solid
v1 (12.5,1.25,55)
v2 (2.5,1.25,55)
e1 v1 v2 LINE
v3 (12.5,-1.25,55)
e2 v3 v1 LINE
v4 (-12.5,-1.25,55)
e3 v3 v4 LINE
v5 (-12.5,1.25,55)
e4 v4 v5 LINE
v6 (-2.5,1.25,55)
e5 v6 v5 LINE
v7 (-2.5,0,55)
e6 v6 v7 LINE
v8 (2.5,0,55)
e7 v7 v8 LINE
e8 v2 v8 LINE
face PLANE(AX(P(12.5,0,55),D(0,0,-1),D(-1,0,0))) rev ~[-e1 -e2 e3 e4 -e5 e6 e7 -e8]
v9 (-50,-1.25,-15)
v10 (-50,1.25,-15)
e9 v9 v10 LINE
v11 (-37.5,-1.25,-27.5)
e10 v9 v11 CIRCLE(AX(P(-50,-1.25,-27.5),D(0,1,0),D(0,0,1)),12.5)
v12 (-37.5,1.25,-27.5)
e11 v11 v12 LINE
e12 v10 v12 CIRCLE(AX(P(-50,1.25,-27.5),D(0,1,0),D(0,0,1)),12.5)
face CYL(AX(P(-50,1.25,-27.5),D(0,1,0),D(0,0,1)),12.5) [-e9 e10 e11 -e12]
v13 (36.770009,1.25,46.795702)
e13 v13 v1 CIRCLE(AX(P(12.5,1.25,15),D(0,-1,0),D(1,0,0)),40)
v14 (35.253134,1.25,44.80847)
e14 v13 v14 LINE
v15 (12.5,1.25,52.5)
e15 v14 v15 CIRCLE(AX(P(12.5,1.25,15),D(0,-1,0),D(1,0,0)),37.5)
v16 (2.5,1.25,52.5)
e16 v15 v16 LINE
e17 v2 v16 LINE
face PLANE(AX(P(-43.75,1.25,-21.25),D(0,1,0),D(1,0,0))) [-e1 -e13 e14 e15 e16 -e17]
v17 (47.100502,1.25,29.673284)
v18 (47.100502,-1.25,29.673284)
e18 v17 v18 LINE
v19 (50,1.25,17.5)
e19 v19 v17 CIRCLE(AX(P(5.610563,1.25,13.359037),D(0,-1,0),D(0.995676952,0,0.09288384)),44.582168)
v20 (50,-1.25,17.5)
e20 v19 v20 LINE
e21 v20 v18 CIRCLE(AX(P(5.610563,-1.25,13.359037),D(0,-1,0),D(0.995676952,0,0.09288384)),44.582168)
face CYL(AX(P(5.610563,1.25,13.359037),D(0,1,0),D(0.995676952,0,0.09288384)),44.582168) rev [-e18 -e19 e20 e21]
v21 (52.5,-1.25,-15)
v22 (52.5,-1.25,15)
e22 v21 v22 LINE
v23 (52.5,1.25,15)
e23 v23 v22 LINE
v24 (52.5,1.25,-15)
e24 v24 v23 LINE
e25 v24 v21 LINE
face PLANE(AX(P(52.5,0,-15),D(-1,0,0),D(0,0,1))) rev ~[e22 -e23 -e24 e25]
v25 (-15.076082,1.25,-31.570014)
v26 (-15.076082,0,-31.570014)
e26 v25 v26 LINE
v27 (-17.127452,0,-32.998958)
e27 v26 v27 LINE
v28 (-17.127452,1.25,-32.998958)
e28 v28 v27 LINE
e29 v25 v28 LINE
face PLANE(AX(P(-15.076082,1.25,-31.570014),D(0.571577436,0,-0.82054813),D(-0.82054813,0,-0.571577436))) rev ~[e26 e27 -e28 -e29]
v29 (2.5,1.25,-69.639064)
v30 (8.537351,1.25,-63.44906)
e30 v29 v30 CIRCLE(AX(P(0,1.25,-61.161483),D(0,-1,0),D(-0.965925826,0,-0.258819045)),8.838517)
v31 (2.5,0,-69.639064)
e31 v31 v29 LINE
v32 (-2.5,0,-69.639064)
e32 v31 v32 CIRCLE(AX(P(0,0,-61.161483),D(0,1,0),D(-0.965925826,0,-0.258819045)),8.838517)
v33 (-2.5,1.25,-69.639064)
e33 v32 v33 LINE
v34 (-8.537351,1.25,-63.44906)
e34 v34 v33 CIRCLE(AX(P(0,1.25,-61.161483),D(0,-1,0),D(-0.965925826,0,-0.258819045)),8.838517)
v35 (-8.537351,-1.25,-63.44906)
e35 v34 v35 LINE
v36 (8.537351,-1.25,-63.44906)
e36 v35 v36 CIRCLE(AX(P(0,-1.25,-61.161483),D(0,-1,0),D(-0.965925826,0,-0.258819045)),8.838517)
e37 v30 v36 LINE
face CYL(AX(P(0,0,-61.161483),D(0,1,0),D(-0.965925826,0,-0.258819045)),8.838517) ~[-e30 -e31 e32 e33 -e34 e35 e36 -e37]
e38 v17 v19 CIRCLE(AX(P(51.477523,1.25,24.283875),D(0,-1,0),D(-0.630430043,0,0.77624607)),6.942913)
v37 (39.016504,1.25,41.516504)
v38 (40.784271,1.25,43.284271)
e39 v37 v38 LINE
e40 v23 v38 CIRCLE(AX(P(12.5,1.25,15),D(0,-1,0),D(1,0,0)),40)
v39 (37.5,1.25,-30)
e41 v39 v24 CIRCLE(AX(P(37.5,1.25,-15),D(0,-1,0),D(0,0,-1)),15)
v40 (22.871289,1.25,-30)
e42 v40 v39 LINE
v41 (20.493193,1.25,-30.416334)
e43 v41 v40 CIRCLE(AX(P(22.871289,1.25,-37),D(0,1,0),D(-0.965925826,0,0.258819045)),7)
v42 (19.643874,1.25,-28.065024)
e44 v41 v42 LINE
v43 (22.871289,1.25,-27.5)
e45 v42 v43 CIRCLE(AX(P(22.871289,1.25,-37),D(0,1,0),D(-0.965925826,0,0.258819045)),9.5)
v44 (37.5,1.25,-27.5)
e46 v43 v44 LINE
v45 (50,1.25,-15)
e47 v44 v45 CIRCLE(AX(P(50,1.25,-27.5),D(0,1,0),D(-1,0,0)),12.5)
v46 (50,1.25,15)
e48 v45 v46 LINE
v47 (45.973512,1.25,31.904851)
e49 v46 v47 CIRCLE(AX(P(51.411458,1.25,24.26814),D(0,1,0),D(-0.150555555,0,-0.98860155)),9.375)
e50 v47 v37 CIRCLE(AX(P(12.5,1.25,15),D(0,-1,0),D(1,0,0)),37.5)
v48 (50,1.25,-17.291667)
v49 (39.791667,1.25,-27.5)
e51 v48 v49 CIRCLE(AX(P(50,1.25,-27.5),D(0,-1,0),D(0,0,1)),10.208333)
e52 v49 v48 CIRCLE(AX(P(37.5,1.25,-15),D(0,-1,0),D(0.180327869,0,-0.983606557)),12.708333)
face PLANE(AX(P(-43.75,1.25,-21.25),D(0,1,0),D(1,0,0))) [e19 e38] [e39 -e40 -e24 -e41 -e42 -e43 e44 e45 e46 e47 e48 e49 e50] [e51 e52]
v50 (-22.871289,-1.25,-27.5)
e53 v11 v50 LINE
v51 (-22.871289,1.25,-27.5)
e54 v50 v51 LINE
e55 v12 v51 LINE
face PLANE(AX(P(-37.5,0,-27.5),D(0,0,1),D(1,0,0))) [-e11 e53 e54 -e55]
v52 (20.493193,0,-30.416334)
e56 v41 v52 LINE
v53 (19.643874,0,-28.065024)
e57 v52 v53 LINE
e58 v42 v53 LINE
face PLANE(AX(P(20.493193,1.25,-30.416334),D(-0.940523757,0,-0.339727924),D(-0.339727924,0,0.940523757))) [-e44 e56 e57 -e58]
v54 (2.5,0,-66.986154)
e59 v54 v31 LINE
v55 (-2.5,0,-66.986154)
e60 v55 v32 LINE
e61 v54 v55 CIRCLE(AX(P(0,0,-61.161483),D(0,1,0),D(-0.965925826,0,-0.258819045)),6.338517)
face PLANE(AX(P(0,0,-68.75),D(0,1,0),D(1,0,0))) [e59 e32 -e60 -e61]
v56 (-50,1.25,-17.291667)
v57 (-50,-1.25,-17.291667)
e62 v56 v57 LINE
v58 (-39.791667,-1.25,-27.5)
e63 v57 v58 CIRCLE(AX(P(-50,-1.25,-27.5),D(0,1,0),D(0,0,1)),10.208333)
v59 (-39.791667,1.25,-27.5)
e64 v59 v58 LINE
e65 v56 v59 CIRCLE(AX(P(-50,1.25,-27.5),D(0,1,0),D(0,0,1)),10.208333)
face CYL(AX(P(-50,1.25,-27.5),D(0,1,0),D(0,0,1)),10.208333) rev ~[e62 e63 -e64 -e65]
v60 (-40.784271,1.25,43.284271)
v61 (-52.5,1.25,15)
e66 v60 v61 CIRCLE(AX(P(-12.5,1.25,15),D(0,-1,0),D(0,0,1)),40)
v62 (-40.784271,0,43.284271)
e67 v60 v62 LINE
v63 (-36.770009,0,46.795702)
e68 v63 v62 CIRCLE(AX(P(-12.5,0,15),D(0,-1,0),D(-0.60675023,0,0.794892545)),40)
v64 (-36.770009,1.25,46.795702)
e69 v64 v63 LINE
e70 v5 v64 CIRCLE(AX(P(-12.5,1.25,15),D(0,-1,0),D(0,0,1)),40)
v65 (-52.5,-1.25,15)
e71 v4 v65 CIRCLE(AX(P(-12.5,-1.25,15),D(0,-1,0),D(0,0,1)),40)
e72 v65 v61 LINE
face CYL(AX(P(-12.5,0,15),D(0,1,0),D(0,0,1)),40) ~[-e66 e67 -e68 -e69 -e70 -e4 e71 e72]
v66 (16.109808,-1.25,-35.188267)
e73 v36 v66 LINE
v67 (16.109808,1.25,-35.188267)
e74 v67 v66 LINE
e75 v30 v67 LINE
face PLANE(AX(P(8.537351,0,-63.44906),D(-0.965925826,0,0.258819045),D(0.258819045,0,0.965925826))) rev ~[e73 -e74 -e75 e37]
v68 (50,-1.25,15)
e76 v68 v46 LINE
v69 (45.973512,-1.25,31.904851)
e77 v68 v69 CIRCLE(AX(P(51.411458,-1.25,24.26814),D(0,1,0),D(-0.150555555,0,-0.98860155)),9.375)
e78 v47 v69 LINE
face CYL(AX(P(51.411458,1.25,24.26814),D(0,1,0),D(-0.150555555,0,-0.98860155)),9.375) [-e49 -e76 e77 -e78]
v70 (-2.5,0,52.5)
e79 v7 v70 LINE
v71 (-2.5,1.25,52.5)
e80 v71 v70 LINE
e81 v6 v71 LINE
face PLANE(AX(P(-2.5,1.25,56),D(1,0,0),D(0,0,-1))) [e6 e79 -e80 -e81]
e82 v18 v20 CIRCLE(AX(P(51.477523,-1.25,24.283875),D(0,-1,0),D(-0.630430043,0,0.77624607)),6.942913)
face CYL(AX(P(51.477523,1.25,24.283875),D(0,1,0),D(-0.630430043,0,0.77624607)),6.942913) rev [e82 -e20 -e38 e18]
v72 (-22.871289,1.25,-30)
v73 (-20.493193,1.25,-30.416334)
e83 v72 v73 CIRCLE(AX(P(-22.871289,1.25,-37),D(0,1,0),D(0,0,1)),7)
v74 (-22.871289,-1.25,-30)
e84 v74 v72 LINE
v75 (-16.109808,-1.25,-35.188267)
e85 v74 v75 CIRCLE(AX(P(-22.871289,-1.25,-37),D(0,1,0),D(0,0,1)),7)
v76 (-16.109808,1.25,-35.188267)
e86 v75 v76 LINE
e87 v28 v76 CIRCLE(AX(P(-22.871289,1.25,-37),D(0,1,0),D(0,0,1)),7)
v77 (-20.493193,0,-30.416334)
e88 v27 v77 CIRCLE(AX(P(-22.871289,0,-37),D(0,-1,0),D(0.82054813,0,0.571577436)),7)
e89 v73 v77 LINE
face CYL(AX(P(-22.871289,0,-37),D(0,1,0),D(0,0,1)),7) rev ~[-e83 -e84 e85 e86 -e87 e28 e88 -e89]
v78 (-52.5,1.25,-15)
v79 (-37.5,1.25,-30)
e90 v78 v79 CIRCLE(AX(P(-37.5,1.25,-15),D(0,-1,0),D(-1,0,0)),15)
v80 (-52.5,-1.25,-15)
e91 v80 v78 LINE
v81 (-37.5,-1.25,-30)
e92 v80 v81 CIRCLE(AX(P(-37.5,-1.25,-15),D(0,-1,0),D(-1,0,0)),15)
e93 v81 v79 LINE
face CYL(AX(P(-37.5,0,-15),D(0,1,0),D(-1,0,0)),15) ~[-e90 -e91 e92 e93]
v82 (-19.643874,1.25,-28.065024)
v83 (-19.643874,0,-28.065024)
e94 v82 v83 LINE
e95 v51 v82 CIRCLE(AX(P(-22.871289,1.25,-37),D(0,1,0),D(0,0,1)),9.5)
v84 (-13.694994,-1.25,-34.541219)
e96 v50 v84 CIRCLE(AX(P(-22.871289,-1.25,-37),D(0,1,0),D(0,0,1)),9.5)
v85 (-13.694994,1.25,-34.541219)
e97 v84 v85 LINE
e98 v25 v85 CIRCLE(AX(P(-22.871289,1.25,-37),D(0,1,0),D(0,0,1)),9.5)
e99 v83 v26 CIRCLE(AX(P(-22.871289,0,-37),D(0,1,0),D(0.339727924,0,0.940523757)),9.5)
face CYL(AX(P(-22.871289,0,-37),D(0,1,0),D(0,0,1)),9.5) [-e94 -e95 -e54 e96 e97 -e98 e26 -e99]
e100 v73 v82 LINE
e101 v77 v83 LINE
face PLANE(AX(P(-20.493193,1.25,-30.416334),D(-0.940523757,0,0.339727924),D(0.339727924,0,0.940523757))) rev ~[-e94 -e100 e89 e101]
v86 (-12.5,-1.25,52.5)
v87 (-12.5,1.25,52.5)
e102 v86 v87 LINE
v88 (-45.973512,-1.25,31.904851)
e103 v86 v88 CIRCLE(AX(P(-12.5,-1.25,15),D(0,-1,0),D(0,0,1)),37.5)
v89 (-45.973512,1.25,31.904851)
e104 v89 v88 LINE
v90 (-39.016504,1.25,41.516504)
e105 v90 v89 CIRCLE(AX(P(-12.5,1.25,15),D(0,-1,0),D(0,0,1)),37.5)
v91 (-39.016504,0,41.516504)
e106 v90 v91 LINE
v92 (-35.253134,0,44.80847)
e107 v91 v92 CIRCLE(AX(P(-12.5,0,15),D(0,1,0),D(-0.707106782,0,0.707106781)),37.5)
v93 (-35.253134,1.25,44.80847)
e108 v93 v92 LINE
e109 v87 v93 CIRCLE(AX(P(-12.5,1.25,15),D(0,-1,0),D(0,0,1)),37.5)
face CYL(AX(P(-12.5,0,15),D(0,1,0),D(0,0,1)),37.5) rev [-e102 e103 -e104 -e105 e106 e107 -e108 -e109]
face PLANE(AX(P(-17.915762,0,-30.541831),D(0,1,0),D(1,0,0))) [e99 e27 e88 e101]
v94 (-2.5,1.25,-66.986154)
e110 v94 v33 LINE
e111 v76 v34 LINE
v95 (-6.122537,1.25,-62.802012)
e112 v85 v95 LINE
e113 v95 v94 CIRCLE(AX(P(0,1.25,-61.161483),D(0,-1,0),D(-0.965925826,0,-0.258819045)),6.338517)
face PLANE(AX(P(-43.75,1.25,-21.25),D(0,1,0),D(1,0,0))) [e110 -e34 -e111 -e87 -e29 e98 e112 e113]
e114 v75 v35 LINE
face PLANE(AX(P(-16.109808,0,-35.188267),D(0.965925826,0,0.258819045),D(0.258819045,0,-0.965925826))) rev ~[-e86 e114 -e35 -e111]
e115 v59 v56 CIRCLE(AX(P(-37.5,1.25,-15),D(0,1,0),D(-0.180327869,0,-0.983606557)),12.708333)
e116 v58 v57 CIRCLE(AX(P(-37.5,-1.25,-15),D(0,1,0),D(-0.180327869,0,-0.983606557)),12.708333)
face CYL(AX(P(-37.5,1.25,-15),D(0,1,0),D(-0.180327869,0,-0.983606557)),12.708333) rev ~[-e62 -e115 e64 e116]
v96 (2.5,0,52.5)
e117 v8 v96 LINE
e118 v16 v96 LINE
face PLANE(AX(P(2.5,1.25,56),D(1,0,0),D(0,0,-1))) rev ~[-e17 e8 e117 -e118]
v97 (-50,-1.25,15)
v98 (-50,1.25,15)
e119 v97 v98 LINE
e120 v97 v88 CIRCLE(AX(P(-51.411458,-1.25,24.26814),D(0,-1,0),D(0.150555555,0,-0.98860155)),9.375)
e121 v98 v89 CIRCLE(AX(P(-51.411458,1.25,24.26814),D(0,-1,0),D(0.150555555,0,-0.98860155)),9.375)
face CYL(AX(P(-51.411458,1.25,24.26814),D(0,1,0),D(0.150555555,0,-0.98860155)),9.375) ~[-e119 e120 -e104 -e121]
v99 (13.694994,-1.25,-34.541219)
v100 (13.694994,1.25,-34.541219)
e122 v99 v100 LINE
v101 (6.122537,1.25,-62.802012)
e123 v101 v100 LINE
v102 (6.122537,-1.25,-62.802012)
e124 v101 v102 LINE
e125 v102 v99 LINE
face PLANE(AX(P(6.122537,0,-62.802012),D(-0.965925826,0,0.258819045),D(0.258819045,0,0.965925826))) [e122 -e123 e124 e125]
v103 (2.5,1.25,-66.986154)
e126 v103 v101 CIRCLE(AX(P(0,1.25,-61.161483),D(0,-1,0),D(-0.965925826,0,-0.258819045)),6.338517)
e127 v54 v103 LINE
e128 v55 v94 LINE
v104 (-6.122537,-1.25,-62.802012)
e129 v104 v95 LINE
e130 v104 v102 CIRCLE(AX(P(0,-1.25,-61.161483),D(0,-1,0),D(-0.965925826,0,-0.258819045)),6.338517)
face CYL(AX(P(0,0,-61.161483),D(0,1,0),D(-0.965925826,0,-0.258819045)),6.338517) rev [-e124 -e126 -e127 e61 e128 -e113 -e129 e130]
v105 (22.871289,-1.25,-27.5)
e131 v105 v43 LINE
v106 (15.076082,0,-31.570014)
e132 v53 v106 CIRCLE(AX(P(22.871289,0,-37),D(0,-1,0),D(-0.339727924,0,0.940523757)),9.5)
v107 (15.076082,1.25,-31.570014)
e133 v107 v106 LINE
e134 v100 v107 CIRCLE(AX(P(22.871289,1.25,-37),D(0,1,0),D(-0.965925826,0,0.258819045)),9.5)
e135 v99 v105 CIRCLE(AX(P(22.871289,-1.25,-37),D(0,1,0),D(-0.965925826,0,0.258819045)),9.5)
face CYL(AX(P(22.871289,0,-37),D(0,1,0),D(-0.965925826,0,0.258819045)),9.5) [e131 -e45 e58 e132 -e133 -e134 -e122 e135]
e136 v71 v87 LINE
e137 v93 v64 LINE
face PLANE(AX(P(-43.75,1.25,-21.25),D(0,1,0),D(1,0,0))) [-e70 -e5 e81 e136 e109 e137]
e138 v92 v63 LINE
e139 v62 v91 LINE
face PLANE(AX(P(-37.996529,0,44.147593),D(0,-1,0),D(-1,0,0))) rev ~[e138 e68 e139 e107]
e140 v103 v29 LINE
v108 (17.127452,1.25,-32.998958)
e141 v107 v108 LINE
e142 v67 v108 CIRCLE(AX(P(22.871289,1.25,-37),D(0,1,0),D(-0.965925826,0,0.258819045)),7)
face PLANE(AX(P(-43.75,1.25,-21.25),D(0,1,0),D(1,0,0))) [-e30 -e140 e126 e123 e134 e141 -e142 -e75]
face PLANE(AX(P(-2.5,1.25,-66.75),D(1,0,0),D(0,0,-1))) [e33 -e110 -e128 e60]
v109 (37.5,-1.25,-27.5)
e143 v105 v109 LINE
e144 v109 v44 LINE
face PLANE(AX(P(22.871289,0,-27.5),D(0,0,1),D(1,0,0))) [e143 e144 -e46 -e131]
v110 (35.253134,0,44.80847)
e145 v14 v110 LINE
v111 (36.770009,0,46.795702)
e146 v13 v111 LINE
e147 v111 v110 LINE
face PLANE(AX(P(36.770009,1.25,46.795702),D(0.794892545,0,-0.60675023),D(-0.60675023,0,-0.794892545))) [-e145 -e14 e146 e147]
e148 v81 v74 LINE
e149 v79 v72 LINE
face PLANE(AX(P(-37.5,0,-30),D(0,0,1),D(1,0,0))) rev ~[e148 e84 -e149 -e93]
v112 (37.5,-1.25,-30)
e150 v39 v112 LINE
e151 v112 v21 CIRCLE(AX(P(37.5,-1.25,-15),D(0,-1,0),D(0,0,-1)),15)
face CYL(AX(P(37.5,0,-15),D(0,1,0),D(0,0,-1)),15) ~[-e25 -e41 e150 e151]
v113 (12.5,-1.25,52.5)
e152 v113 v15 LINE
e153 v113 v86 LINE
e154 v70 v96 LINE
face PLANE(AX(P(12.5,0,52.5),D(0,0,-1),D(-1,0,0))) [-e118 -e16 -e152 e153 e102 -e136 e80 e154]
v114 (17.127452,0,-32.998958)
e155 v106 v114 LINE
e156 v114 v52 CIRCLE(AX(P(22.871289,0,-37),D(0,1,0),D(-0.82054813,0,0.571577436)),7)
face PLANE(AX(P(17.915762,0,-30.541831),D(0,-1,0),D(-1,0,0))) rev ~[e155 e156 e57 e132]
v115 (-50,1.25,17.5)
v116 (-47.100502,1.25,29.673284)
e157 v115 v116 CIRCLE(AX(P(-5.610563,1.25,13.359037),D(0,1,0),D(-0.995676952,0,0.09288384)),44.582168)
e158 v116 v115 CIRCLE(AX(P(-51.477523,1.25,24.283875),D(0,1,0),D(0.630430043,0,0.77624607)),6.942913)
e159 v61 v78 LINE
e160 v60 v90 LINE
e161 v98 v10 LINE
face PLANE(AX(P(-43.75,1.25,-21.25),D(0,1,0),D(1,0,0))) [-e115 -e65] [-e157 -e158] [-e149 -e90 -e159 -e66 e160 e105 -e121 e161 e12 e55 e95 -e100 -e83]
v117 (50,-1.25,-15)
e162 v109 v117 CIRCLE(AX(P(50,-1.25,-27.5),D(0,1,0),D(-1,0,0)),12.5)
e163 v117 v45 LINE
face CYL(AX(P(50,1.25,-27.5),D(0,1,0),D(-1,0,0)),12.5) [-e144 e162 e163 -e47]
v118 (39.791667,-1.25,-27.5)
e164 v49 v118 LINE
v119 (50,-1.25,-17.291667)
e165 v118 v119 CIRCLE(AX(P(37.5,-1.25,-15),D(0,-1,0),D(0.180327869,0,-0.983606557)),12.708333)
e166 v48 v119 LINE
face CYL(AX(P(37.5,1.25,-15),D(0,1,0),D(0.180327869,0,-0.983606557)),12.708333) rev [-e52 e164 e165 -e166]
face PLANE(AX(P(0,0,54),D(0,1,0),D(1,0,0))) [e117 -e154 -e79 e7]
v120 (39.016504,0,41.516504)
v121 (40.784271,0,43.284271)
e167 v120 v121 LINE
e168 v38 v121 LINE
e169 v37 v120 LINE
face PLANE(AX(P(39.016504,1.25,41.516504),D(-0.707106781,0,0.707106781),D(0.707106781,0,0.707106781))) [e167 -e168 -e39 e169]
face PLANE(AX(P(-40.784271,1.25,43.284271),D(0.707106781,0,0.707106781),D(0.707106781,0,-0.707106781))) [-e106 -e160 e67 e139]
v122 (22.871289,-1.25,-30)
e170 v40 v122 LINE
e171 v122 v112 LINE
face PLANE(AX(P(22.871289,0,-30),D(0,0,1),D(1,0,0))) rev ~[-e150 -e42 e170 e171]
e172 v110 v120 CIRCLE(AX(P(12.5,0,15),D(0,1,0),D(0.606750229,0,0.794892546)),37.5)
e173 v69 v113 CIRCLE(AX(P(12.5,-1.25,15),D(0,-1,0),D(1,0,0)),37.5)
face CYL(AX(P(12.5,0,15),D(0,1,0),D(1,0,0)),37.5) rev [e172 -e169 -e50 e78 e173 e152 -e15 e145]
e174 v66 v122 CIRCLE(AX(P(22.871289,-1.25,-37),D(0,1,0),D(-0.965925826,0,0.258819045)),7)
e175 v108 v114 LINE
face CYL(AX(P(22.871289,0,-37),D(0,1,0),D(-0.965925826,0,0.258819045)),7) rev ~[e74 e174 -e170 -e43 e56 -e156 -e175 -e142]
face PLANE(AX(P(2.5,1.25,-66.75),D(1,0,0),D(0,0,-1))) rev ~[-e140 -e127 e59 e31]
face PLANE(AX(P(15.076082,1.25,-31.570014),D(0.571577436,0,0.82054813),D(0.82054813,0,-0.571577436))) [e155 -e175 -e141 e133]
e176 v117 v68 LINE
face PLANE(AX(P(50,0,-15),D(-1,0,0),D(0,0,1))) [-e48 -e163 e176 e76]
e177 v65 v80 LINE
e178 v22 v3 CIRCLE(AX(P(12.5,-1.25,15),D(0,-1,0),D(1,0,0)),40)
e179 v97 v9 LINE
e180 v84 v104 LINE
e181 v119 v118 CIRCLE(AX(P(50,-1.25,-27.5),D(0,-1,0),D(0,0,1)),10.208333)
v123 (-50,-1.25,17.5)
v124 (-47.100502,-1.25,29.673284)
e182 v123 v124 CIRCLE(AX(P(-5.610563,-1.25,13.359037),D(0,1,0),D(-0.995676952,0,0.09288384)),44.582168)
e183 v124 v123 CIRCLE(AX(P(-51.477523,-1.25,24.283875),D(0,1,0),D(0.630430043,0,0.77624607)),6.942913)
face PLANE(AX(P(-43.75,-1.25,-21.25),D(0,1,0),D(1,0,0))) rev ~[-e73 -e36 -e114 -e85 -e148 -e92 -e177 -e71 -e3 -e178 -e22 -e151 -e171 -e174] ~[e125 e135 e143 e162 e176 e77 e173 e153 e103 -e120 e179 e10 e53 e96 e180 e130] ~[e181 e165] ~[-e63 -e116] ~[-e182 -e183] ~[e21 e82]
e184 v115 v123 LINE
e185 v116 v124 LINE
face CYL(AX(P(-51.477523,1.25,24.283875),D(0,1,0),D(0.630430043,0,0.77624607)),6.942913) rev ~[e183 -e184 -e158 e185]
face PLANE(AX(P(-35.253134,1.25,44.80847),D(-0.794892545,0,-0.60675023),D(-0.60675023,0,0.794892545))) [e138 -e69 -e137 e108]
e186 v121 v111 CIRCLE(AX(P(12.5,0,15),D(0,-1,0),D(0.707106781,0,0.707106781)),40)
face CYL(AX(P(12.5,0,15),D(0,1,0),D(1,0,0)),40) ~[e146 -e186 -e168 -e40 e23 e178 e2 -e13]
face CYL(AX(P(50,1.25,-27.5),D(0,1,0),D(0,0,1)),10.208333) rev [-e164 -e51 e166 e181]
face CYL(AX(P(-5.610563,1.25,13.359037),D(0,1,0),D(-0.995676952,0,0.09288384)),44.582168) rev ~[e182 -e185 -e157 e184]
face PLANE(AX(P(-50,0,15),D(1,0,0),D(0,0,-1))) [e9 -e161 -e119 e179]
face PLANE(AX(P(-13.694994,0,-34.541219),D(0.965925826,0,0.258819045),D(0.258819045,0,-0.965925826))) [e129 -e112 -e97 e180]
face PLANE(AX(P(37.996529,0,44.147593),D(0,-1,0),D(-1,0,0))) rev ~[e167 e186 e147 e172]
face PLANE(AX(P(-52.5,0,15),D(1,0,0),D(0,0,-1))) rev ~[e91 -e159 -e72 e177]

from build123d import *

# Parameters (mm, degrees)
BOSS_EXTRUDE1_DEPTH = 1.25
BOSS_EXTRUDE5_DEPTH = 2.5
SKETCH6_W           = 5
SKETCH6_H           = 4
CUT_EXTRUDE1_DEPTH  = 1.25
CUT_EXTRUDE2_DEPTH  = 2.5


with BuildPart() as part:
    # Sketch2 → Boss-Extrude1 (new body, symmetric)
    with BuildSketch(Plane(origin=(0, 0, 0), x_dir=(1, 0, 0), z_dir=(0, 1, 0))):
        with BuildLine():
            Line((-16.109808132, 35.188266684), (-8.537351427, 63.449059844))
            ThreePointArc((-8.537351427, 63.449059844), (0, 70), (8.537351427, 63.449059844))
            Line((8.537351427, 63.449059844), (16.109808132, 35.188266684))
            ThreePointArc((16.109808132, 35.188266684), (18.609958913, 31.446526618), (22.871288916, 30))
            Line((22.871288916, 30), (37.5, 30))
            ThreePointArc((37.5, 30), (48.106601718, 25.606601718), (52.5, 15))
            Line((52.5, 15), (52.5, -15))
            ThreePointArc((52.5, -15), (40.784271247, -43.284271247), (12.5, -55))
            Line((12.5, -55), (-12.5, -55))
            ThreePointArc((-12.5, -55), (-40.784271247, -43.284271247), (-52.5, -15))
            Line((-52.5, -15), (-52.5, 15))
            ThreePointArc((-52.5, 15), (-48.106601718, 25.606601718), (-37.5, 30))
            Line((-37.5, 30), (-22.871288916, 30))
            ThreePointArc((-22.871288916, 30), (-18.609958913, 31.446526618), (-16.109808132, 35.188266684))
        make_face()
        with BuildLine():
            Line((6.122536861, 62.802012231), (13.694993566, 34.541219072))
            ThreePointArc((13.694993566, 34.541219072), (17.08805534, 29.463143267), (22.871288916, 27.5))
            Line((22.871288916, 27.5), (37.5, 27.5))
            ThreePointArc((37.5, 27.5), (46.338834765, 23.838834765), (50, 15))
            Line((50, 15), (50, -15))
            ThreePointArc((50, -15), (39.016504294, -41.516504294), (12.5, -52.5))
            Line((12.5, -52.5), (-12.5, -52.5))
            ThreePointArc((-12.5, -52.5), (-39.016504294, -41.516504294), (-50, -15))
            Line((-50, -15), (-50, 15))
            ThreePointArc((-50, 15), (-46.338834765, 23.838834765), (-37.5, 27.5))
            Line((-37.5, 27.5), (-22.871288916, 27.5))
            ThreePointArc((-22.871288916, 27.5), (-17.08805534, 29.463143267), (-13.694993566, 34.541219072))
            Line((-13.694993566, 34.541219072), (-6.122536861, 62.802012231))
            ThreePointArc((-6.122536861, 62.802012231), (0, 67.5), (6.122536861, 62.802012231))
        make_face(mode=Mode.SUBTRACT)
    extrude(amount=BOSS_EXTRUDE1_DEPTH, both=True)

    # Sketch5 → Boss-Extrude5 (add)
    with BuildSketch(Plane(origin=(0, 1.25, 0), x_dir=(1, 0, 0), z_dir=(0, 1, 0))):
        with BuildLine():
            ThreePointArc((-50, 15), (-41.161165235, 18.661165235), (-37.5, 27.5))
            ThreePointArc((-37.5, 27.5), (-46.338834765, 23.838834765), (-50, 15))
        make_face()
        with BuildLine():
            ThreePointArc((37.5, 27.5), (41.161165235, 18.661165235), (50, 15))
            ThreePointArc((50, 15), (46.338834765, 23.838834765), (37.5, 27.5))
        make_face()
        with BuildLine():
            ThreePointArc((-50, -15), (-42.291585286, -22.095919329), (-45.973512014, -31.904851181))
            ThreePointArc((-45.973512014, -31.904851181), (-48.979492188, -23.688880811), (-50, -15))
        make_face()
        with BuildLine():
            ThreePointArc((50, -15), (42.291585286, -22.095919329), (45.973512014, -31.904851181))
            ThreePointArc((45.973512014, -31.904851181), (48.979492187, -23.688880811), (50, -15))
        make_face()
    extrude(amount=-BOSS_EXTRUDE5_DEPTH)

    # Sketch6 → Cut-Extrude1 (cut)
    with BuildSketch(Plane(origin=(0, 1.25, 0), x_dir=(1, 0, 0), z_dir=(0, 1, 0))):
        with Locations((0, 68.75)):
            Rectangle(SKETCH6_W, SKETCH6_H)
        with BuildLine():
            Line((-20.493193447, 30.416333701), (-19.643873637, 28.065024308))
            ThreePointArc((-19.643873637, 28.065024308), (-17.08805534, 29.463143267), (-15.076081678, 31.570014354))
            Line((-15.076081678, 31.570014354), (-17.127452004, 32.998957945))
            ThreePointArc((-17.127452004, 32.998957945), (-18.609958913, 31.446526618), (-20.493193447, 30.416333701))
        make_face()
        with BuildLine():
            Line((20.493193447, 30.416333701), (19.643873637, 28.065024308))
            ThreePointArc((19.643873637, 28.065024308), (17.08805534, 29.463143267), (15.076081678, 31.570014354))
            Line((15.076081678, 31.570014354), (17.127452004, 32.998957945))
            ThreePointArc((17.127452004, 32.998957945), (18.609958913, 31.446526618), (20.493193447, 30.416333701))
        make_face()
        with BuildLine():
            Line((-40.784271247, -43.284271247), (-39.016504294, -41.516504294))
            ThreePointArc((-39.016504294, -41.516504294), (-37.189746158, -43.225280064), (-35.253133619, -44.808470449))
            Line((-35.253133619, -44.808470449), (-36.770009194, -46.795701812))
            ThreePointArc((-36.770009194, -46.795701812), (-38.835729235, -45.106965401), (-40.784271247, -43.284271247))
        make_face()
        with BuildLine():
            Line((36.770009194, -46.795701812), (35.253133619, -44.808470449))
            ThreePointArc((35.253133619, -44.808470449), (37.189746158, -43.225280064), (39.016504294, -41.516504294))
            Line((39.016504294, -41.516504294), (40.784271247, -43.284271247))
            ThreePointArc((40.784271247, -43.284271247), (38.835729235, -45.106965401), (36.770009194, -46.795701812))
        make_face()
        with Locations((0, -54)):
            Rectangle(SKETCH6_W, SKETCH6_H)
    extrude(amount=-CUT_EXTRUDE1_DEPTH, mode=Mode.SUBTRACT)

    # Sketch7 → Cut-Extrude2 (cut)
    with BuildSketch(Plane(origin=(0, 1.25, 0), x_dir=(1, 0, 0), z_dir=(0, 1, 0))):
        with BuildLine():
            ThreePointArc((-50, 17.291666667), (-42.781618275, 20.281618275), (-39.791666667, 27.5))
            ThreePointArc((-39.791666667, 27.5), (-46.486148678, 23.986148678), (-50, 17.291666667))
        make_face()
        with BuildLine():
            ThreePointArc((39.791666667, 27.5), (46.486148678, 23.986148678), (50, 17.291666667))
            ThreePointArc((50, 17.291666667), (42.781618275, 20.281618275), (39.791666667, 27.5))
        make_face()
        with BuildLine():
            ThreePointArc((-47.100502093, -29.673283714), (-44.723551432, -22.675178049), (-50, -17.5))
            ThreePointArc((-50, -17.5), (-48.979492187, -23.688880811), (-47.100502093, -29.673283714))
        make_face()
        with BuildLine():
            ThreePointArc((50, -17.5), (48.979492187, -23.688880811), (47.100502093, -29.673283714))
            ThreePointArc((47.100502093, -29.673283714), (44.723551432, -22.675178049), (50, -17.5))
        make_face()
    extrude(amount=-CUT_EXTRUDE2_DEPTH, mode=Mode.SUBTRACT)


solid = part.part
